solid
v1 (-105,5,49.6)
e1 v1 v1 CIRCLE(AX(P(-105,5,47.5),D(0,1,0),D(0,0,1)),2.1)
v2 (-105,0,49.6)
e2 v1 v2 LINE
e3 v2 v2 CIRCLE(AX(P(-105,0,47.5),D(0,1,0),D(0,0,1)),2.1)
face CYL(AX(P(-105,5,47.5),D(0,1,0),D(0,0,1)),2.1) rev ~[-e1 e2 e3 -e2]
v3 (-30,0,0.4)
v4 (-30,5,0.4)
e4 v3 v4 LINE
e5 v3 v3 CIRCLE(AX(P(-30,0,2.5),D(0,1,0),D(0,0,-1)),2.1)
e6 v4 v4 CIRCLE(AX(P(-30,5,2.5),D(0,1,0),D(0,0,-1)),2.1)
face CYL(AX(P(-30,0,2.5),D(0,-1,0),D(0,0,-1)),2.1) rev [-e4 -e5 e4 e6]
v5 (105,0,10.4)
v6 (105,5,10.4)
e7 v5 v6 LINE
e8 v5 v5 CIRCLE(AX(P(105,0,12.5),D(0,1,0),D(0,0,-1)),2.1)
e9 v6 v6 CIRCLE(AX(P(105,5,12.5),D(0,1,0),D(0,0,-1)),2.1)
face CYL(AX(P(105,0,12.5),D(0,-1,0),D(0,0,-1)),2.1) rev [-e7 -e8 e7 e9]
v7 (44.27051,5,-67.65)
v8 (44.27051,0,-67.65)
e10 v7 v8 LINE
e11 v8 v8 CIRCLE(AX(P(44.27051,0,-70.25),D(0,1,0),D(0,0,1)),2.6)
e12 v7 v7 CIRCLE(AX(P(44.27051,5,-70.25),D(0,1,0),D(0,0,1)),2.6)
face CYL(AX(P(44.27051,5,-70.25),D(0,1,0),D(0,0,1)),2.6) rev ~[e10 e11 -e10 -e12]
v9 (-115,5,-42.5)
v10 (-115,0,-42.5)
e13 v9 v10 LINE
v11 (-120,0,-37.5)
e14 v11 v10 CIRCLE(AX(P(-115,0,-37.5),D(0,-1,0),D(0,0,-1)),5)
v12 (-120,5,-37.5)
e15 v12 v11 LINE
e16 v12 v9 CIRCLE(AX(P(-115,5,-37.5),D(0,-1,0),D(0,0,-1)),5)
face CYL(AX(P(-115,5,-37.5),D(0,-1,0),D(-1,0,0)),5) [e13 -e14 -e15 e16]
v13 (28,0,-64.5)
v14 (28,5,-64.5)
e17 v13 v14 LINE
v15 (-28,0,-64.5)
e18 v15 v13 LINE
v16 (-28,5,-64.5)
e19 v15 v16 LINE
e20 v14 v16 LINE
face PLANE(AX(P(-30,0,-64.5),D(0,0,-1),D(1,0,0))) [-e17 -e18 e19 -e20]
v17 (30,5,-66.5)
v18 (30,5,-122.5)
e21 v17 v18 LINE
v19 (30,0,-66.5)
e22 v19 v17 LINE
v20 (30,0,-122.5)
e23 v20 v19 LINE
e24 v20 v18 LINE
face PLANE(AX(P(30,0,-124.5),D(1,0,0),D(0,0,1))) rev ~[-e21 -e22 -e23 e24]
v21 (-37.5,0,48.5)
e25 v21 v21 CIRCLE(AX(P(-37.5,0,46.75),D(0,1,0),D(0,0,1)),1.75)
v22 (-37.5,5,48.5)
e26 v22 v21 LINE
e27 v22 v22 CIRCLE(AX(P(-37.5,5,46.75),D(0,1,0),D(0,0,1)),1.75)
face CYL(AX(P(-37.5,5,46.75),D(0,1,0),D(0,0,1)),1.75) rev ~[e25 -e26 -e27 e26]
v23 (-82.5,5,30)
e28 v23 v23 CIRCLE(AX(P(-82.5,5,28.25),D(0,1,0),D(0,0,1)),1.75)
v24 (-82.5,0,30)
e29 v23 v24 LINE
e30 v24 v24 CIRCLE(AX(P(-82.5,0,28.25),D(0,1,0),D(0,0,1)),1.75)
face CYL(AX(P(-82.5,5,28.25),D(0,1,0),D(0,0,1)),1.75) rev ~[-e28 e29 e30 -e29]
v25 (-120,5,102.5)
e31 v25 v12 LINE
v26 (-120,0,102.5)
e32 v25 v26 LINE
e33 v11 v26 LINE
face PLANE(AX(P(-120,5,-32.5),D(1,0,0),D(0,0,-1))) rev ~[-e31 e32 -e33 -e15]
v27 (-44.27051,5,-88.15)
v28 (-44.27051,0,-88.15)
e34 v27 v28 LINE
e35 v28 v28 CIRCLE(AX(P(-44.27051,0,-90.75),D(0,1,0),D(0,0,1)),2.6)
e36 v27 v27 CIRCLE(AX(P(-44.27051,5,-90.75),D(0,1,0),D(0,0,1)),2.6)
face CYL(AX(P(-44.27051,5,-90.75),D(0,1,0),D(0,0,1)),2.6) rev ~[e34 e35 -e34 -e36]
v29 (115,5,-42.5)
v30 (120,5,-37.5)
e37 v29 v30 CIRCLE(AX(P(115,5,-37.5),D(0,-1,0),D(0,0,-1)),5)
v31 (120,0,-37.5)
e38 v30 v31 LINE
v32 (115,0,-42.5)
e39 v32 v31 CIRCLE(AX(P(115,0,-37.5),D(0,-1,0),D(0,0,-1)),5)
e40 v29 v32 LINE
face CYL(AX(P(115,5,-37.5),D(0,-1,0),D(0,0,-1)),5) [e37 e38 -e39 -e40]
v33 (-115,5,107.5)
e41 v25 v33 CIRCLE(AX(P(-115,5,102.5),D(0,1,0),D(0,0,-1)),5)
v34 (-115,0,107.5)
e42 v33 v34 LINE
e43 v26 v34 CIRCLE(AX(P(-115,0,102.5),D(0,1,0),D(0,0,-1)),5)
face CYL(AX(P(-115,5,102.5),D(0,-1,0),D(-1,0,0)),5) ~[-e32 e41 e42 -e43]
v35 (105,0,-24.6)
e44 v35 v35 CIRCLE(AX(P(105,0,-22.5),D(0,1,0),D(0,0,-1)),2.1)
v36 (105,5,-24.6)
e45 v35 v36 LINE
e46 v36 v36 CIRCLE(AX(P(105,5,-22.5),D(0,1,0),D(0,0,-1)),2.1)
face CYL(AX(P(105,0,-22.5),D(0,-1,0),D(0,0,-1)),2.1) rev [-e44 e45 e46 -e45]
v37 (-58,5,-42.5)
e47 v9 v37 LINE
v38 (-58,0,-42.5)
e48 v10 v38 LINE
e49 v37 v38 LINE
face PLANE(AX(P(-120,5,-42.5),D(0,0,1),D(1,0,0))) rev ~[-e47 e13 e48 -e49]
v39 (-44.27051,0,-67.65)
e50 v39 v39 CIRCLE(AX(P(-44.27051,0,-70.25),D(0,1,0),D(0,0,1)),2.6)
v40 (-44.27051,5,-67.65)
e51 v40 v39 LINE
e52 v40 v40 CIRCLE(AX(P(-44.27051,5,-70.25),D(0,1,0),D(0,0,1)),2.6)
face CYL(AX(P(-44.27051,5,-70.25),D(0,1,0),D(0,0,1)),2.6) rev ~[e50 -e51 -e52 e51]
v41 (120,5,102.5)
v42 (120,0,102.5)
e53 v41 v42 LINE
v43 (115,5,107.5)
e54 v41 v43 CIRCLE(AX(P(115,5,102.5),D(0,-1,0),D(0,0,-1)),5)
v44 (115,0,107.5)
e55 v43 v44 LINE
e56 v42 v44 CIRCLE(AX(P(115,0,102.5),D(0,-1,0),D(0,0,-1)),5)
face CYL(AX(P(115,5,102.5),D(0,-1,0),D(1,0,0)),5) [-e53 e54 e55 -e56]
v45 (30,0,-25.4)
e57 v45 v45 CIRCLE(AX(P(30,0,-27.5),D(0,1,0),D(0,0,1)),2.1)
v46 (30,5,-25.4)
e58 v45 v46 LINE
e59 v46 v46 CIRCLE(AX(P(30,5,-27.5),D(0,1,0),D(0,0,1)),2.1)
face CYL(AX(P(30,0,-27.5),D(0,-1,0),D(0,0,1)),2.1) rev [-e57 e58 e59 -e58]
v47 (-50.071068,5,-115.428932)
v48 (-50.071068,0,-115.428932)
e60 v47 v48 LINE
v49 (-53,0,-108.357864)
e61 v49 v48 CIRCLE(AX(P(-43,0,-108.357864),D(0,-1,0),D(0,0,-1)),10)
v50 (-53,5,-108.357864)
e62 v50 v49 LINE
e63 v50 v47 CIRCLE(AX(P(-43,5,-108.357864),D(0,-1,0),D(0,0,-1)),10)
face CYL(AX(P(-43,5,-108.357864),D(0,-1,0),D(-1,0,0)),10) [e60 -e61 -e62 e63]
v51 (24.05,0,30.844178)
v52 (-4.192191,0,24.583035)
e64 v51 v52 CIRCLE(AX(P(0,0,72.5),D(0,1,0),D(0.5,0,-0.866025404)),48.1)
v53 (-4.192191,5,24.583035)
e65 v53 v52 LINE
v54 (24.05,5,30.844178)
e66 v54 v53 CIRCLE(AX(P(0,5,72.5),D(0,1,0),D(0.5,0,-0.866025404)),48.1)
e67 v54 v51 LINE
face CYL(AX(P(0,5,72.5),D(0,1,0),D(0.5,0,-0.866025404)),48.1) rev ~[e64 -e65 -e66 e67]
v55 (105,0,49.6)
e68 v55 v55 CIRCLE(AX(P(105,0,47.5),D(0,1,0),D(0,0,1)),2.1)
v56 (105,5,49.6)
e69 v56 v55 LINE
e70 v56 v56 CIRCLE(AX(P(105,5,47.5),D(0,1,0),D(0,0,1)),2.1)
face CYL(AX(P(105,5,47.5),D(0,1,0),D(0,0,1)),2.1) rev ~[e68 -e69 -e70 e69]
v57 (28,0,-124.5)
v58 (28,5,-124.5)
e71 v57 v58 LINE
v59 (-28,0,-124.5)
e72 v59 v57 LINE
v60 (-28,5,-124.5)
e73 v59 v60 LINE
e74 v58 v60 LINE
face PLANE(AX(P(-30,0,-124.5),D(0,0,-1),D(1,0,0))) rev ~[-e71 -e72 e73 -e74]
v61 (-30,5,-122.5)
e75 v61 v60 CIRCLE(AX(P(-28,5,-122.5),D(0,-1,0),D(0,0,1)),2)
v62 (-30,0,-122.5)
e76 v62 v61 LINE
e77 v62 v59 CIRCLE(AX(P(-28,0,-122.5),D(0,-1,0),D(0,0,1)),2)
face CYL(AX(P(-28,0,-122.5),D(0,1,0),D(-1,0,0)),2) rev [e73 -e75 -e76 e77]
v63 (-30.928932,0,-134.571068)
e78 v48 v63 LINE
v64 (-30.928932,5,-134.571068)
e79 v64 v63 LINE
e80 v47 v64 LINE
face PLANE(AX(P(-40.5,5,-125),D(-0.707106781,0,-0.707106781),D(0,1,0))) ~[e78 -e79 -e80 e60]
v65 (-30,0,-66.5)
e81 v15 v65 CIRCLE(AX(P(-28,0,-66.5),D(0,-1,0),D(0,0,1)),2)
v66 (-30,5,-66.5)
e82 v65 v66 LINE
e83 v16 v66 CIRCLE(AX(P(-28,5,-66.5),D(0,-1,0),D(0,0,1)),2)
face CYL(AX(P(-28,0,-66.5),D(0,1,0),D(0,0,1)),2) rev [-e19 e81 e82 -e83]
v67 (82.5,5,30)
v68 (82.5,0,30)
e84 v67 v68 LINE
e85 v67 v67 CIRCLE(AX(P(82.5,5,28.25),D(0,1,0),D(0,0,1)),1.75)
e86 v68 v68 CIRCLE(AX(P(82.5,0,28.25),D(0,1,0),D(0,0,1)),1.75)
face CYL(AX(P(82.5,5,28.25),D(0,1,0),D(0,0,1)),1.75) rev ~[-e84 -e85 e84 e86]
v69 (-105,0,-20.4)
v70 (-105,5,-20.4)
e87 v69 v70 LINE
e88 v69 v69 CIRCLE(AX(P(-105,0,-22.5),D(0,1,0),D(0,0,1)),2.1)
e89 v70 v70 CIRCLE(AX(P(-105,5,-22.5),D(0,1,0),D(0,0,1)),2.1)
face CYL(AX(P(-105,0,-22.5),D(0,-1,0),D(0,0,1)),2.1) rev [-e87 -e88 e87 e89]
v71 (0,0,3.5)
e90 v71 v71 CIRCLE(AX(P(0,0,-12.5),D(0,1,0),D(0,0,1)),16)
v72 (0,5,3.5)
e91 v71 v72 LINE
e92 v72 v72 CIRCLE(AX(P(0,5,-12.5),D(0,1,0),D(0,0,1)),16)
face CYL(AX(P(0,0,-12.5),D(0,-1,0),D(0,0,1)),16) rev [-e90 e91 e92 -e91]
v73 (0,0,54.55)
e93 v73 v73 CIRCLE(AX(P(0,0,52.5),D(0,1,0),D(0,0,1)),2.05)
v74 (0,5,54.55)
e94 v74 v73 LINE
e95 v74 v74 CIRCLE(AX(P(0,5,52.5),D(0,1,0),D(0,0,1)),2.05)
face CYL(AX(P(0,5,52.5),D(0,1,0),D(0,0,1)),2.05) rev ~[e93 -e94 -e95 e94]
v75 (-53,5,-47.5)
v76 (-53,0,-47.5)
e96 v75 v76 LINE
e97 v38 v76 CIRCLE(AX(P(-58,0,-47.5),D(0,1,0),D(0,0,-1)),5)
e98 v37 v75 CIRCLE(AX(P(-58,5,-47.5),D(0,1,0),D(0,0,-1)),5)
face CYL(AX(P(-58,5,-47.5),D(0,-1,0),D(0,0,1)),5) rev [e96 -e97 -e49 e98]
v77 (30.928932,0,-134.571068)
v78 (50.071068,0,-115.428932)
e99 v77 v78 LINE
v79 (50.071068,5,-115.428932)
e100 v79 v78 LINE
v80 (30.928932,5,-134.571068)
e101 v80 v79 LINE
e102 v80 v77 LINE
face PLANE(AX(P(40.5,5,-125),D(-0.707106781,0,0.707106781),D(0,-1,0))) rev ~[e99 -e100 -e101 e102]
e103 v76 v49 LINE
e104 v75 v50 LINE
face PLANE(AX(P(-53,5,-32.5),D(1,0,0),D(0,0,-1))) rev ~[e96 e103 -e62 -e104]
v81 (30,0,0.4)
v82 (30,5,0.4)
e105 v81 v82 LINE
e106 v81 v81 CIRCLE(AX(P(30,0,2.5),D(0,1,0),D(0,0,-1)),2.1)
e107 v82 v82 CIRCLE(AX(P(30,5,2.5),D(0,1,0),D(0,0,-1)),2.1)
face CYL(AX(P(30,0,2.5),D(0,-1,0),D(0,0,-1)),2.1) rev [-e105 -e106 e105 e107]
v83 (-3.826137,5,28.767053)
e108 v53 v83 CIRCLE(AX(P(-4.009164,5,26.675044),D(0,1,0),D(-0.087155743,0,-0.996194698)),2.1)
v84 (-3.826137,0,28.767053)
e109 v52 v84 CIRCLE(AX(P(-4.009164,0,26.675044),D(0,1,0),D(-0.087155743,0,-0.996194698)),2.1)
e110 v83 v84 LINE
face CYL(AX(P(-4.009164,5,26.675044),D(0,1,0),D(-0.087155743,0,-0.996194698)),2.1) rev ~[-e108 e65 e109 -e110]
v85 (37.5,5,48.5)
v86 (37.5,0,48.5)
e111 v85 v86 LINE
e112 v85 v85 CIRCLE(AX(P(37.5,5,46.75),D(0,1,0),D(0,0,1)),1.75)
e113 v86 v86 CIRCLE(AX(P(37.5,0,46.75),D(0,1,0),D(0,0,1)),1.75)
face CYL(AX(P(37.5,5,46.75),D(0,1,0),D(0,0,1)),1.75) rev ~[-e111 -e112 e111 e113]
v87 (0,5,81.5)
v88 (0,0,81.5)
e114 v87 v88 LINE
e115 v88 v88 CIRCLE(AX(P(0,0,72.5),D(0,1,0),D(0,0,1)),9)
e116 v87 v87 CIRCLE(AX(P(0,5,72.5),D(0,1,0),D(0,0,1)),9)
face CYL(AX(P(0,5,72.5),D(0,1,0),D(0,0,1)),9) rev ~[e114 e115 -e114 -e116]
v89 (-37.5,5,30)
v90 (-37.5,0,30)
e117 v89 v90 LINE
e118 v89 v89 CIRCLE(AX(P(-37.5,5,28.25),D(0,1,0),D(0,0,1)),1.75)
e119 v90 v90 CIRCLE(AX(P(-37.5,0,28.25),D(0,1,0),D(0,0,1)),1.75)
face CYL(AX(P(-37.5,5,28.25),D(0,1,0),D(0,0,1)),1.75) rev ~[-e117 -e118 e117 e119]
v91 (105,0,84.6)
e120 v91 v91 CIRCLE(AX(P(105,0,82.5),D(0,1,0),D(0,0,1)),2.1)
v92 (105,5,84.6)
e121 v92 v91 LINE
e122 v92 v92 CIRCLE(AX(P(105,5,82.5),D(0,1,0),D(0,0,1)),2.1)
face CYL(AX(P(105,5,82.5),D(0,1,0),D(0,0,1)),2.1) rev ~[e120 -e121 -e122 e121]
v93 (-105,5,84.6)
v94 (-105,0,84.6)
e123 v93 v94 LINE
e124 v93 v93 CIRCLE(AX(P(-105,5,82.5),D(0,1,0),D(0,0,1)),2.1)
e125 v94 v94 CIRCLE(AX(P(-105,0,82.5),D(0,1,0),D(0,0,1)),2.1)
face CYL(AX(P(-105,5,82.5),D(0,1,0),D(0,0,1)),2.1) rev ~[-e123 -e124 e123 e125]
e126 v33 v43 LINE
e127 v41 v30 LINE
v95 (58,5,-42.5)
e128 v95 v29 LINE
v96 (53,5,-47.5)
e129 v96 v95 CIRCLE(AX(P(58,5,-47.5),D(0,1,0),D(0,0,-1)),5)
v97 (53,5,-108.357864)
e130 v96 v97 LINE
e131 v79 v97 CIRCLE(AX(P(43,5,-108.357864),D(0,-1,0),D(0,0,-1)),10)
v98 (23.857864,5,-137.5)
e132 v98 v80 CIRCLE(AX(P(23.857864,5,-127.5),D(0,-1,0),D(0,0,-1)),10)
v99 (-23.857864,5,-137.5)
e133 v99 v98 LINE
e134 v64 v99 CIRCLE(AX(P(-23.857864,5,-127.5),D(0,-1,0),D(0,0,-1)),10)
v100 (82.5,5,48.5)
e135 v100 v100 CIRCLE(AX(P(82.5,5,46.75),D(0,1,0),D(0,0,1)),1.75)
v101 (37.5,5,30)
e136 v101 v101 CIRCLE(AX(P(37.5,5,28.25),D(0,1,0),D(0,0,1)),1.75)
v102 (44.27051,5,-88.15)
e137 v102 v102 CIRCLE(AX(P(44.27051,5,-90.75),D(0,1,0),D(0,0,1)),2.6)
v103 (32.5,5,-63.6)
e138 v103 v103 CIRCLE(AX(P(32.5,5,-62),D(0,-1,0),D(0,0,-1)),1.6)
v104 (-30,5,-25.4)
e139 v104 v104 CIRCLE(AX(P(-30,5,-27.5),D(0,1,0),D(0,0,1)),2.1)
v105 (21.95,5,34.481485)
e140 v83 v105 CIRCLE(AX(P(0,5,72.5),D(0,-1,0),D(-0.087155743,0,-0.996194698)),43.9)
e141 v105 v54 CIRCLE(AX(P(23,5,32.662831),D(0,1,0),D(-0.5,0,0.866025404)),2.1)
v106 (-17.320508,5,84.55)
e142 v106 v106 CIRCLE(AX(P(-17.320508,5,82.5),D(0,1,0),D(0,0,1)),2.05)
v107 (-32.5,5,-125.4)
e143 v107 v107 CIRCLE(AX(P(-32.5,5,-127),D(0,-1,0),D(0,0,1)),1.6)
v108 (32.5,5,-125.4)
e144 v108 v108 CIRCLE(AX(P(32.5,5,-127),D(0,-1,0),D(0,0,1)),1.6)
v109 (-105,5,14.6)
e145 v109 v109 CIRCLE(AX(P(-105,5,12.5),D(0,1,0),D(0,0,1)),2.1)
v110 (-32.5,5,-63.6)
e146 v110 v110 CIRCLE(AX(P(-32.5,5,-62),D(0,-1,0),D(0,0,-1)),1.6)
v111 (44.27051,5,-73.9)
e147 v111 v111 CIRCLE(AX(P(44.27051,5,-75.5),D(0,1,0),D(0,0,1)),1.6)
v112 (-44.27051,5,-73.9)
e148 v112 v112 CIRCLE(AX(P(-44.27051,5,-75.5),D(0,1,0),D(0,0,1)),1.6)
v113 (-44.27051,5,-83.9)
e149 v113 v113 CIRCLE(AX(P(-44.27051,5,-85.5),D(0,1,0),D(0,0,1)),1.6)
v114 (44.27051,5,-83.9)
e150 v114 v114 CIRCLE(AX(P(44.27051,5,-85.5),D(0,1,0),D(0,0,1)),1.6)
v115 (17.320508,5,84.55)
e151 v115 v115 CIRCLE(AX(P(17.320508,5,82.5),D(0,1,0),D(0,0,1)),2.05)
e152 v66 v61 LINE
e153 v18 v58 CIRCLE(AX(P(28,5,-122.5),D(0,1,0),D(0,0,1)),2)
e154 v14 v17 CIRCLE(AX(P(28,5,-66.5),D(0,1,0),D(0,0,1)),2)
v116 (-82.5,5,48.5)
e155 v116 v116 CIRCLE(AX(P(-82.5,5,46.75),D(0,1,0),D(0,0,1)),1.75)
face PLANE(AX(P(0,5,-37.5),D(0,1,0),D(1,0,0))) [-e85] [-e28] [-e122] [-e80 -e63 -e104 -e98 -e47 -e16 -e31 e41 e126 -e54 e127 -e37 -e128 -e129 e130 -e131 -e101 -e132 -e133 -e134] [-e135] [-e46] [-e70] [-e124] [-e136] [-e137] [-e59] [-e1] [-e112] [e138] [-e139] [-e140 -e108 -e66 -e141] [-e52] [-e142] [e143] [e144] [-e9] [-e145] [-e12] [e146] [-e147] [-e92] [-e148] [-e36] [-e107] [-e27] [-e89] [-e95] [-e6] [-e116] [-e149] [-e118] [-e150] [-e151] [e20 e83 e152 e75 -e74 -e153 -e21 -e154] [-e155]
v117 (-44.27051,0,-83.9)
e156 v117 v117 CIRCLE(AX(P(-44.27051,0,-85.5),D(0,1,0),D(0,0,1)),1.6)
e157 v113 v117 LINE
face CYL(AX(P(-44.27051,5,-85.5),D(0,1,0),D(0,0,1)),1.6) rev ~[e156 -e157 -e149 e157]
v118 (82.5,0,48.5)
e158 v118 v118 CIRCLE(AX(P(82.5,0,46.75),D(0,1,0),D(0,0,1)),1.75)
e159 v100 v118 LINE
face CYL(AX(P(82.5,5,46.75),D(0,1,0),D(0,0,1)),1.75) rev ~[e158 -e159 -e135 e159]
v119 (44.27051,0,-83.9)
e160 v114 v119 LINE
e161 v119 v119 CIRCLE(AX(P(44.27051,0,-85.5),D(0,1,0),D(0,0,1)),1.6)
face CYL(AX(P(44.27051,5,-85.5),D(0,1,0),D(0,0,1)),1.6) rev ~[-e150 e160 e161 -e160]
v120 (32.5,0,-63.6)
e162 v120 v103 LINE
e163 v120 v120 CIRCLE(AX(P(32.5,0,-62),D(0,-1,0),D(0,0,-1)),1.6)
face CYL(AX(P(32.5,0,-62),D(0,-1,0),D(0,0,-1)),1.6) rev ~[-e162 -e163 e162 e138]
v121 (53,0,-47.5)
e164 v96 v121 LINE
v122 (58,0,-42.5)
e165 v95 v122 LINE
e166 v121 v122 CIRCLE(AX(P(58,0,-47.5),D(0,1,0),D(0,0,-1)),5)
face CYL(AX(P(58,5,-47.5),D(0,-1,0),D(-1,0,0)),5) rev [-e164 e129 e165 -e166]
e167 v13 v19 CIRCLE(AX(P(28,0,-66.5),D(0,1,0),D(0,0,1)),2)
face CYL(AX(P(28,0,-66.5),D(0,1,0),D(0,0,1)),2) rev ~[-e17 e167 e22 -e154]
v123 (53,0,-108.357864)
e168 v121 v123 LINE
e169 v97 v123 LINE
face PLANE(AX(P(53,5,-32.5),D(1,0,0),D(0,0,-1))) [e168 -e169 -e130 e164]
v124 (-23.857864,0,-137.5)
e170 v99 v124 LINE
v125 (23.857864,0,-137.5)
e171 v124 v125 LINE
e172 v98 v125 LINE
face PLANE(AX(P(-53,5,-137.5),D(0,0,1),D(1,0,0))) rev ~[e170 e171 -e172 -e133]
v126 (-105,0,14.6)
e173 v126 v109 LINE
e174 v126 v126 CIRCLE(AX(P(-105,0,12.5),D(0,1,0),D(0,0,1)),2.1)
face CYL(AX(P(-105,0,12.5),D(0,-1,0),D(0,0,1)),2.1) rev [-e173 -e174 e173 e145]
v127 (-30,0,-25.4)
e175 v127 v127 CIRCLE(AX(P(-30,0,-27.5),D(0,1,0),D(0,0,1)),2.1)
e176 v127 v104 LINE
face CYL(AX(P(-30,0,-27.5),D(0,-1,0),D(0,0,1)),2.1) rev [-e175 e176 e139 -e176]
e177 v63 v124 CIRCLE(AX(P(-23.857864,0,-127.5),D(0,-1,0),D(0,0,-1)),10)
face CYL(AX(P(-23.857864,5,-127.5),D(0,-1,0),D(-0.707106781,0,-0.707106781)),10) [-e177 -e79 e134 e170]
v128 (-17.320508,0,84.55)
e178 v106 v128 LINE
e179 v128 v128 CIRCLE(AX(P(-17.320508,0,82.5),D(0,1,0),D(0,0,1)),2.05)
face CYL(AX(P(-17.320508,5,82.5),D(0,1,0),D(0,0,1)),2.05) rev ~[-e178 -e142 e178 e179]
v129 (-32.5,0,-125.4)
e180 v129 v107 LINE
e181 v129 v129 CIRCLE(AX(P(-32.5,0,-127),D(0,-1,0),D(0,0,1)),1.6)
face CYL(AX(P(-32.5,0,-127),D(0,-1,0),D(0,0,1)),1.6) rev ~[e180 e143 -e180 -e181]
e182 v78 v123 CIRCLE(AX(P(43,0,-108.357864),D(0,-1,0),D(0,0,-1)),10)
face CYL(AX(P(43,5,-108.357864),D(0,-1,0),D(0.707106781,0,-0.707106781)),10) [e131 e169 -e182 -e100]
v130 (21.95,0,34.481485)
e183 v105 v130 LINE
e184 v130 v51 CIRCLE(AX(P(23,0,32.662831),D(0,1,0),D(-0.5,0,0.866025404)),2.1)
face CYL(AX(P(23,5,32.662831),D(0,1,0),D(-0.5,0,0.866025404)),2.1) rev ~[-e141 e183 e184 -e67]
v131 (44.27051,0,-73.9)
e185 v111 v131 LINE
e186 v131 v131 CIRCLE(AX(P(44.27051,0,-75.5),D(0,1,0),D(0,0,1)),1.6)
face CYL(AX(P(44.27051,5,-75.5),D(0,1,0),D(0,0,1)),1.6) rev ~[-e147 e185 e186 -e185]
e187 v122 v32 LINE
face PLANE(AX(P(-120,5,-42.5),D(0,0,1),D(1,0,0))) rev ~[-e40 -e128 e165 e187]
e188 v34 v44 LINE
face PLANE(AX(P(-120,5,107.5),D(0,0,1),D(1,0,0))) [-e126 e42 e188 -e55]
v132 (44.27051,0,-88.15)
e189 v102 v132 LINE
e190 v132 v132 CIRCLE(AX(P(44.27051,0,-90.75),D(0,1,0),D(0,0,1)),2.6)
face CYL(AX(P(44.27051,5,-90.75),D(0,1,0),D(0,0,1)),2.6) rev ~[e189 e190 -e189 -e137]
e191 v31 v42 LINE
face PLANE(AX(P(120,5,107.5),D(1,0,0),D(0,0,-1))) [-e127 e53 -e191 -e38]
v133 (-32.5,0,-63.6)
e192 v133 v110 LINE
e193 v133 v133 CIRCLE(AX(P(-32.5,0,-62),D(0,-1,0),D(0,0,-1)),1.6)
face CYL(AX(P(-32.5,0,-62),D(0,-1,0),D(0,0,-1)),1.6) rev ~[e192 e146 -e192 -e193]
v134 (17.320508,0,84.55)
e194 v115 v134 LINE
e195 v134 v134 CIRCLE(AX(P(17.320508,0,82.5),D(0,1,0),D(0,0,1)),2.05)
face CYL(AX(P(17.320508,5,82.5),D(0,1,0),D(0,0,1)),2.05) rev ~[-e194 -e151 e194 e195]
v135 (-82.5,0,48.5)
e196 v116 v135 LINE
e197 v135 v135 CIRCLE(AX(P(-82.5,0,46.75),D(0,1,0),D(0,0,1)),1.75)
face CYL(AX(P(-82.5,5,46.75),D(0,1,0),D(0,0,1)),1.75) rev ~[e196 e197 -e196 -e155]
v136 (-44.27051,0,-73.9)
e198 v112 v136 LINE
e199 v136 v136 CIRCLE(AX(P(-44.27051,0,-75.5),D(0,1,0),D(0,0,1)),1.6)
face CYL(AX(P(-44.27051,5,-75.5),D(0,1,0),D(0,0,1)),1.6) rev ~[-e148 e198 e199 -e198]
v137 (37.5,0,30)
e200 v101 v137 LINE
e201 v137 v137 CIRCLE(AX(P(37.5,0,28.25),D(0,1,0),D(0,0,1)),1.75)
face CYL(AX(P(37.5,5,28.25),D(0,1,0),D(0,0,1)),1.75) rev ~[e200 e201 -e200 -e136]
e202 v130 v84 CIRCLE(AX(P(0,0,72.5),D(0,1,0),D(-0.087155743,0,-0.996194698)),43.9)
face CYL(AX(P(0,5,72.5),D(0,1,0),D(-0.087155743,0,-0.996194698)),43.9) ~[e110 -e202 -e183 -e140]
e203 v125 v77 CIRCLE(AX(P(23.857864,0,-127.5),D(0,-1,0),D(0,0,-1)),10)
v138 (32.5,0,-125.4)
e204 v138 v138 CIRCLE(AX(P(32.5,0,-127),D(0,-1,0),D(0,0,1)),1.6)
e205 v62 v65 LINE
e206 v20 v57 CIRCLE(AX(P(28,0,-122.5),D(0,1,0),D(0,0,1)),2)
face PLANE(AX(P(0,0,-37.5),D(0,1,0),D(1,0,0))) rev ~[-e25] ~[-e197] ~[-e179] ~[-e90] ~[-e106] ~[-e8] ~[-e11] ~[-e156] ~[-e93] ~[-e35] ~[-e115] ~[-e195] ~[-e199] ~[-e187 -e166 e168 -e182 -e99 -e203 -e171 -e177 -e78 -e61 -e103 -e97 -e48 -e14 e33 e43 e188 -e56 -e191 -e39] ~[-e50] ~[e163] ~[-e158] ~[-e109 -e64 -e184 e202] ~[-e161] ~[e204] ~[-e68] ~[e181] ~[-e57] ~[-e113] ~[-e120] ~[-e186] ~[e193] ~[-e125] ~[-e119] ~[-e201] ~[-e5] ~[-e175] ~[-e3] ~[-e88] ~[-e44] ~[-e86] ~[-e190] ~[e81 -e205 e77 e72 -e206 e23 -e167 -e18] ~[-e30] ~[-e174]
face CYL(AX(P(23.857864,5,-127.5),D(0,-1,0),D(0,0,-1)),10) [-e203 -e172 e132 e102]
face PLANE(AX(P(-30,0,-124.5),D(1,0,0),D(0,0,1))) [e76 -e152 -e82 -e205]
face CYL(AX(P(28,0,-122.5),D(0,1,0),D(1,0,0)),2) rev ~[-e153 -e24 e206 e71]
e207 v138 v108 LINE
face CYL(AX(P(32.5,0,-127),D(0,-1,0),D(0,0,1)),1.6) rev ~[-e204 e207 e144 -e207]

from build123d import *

# Parameters (mm, degrees)
SKETCH_1_W          = 240
SKETCH_1_H          = 65
SKETCH_1_R          = 2.1
SKETCH_1_R_2        = 16
EXTRUDE_1_DEPTH     = 5
SKETCH_2_W          = 240
SKETCH_2_H          = 75
SKETCH_2_R          = 2.05
SKETCH_2_R_2        = 9
SKETCH_2_R_3        = 2.1
SKETCH_2_W_2        = 106
SKETCH_2_H_2        = 105
SKETCH_2_R_4        = 2.6
SKETCH_2_R_5        = 1.6
EXTRUDE_2_DEPTH     = 5
CUT_EXTRUDE_1_DEPTH = 10
SKETCH_4_W          = 240
SKETCH_4_H          = 10
EXTRUDE_3_DEPTH     = 5
FILLET_5_R          = 5
SKETCH_6_R          = 1.6
SKETCH_6_W          = 60
SKETCH_6_H          = 60
CUT_EXTRUDE_2_DEPTH = 10
FILLET_6_R          = 5
CHAMFER_1_SIZE      = 25
SKETCH_7_R          = 1.75
CUT_EXTRUDE_3_DEPTH = 10
FILLET_7_R          = 10
FILLET_8_R          = 2


with BuildPart() as part:
    # 草图1 → 凸台-拉伸1 (new body)
    with BuildSketch(Plane(origin=(0, 0, 0), x_dir=(1, 0, 0), z_dir=(0, 1, 0))):
        Rectangle(SKETCH_1_W, SKETCH_1_H)
        with Locations(Location((-105, 22.5, 0), (0, 0, 270))):
            Circle(SKETCH_1_R, mode=Mode.SUBTRACT)
        with Locations(Location((-105, -12.5, 0), (0, 0, 270))):
            Circle(SKETCH_1_R, mode=Mode.SUBTRACT)
        with Locations(Location((105, -12.5, 0), (0, 0, 90))):
            Circle(SKETCH_1_R, mode=Mode.SUBTRACT)
        with Locations(Location((105, 22.5, 0), (0, 0, 90))):
            Circle(SKETCH_1_R, mode=Mode.SUBTRACT)
        with Locations(Location((0, 12.5, 0), (0, 0, 270))):
            Circle(SKETCH_1_R_2, mode=Mode.SUBTRACT)
        with Locations(Location((-30, 27.5, 0), (0, 0, 270))):
            Circle(SKETCH_1_R, mode=Mode.SUBTRACT)
        with Locations(Location((30, 27.5, 0), (0, 0, 270))):
            Circle(SKETCH_1_R, mode=Mode.SUBTRACT)
        with Locations(Location((30, -2.5, 0), (0, 0, 90))):
            Circle(SKETCH_1_R, mode=Mode.SUBTRACT)
        with Locations(Location((-30, -2.5, 0), (0, 0, 90))):
            Circle(SKETCH_1_R, mode=Mode.SUBTRACT)
    extrude(amount=EXTRUDE_1_DEPTH)

    # 草图2 → 凸台-拉伸2 (add)
    # profile 1 of 2: a face of its own
    with BuildSketch(Plane(origin=(0, 5, 0), x_dir=(1, 0, 0), z_dir=(0, 1, 0))):
        with Locations((0, -70)):
            Rectangle(SKETCH_2_W, SKETCH_2_H)
        with Locations(Location((17.320508076, -82.5, 0), (0, 0, 270))):
            Circle(SKETCH_2_R, mode=Mode.SUBTRACT)
        with Locations(Location((0, -72.5, 0), (0, 0, 270))):
            Circle(SKETCH_2_R_2, mode=Mode.SUBTRACT)
        with Locations(Location((-17.320508076, -82.5, 0), (0, 0, 270))):
            Circle(SKETCH_2_R, mode=Mode.SUBTRACT)
        with Locations(Location((0, -52.5, 0), (0, 0, 270))):
            Circle(SKETCH_2_R, mode=Mode.SUBTRACT)
        with Locations(Location((-105, -47.5, 0), (0, 0, 270))):
            Circle(SKETCH_2_R_3, mode=Mode.SUBTRACT)
        with Locations(Location((-105, -82.5, 0), (0, 0, 270))):
            Circle(SKETCH_2_R_3, mode=Mode.SUBTRACT)
        with Locations(Location((105, -47.5, 0), (0, 0, 270))):
            Circle(SKETCH_2_R_3, mode=Mode.SUBTRACT)
        with Locations(Location((105, -82.5, 0), (0, 0, 270))):
            Circle(SKETCH_2_R_3, mode=Mode.SUBTRACT)
    # profile 2 of 2: a face of its own
    with BuildSketch(Plane(origin=(0, 5, 0), x_dir=(1, 0, 0), z_dir=(0, 1, 0))):
        with Locations((0, 85)):
            Rectangle(SKETCH_2_W_2, SKETCH_2_H_2)
        with Locations(Location((-44.270509831, 70.25, 0), (0, 0, 270))):
            Circle(SKETCH_2_R_4, mode=Mode.SUBTRACT)
        with Locations(Location((-44.270509831, 75.5, 0), (0, 0, 270))):
            Circle(SKETCH_2_R_5, mode=Mode.SUBTRACT)
        with Locations(Location((-44.270509831, 85.5, 0), (0, 0, 270))):
            Circle(SKETCH_2_R_5, mode=Mode.SUBTRACT)
        with Locations(Location((-44.270509831, 90.75, 0), (0, 0, 270))):
            Circle(SKETCH_2_R_4, mode=Mode.SUBTRACT)
        with Locations(Location((44.270509831, 70.25, 0), (0, 0, 270))):
            Circle(SKETCH_2_R_4, mode=Mode.SUBTRACT)
        with Locations(Location((44.270509831, 75.5, 0), (0, 0, 270))):
            Circle(SKETCH_2_R_5, mode=Mode.SUBTRACT)
        with Locations(Location((44.270509831, 85.5, 0), (0, 0, 270))):
            Circle(SKETCH_2_R_5, mode=Mode.SUBTRACT)
        with Locations(Location((44.270509831, 90.75, 0), (0, 0, 270))):
            Circle(SKETCH_2_R_4, mode=Mode.SUBTRACT)
    extrude(amount=-EXTRUDE_2_DEPTH)

    # 草图3 → 切除-拉伸1 (cut)
    with BuildSketch(Plane(origin=(0, 5, 0), x_dir=(1, 0, 0), z_dir=(0, 1, 0))):
        with BuildLine():
            ThreePointArc((24.05, -30.844178078), (10.41074543, -25.540162058), (-4.192191226, -24.583035022))
            ThreePointArc((-4.192191226, -24.583035022), (-6.101173032, -26.858070948), (-3.826137107, -28.767052754))
            ThreePointArc((-3.826137107, -28.767052754), (9.501699052, -29.640605287), (21.95, -34.481484774))
            ThreePointArc((21.95, -34.481484774), (24.818653348, -33.712831426), (24.05, -30.844178078))
        make_face()
    extrude(amount=-CUT_EXTRUDE_1_DEPTH, mode=Mode.SUBTRACT)

    # 草图4 → 凸台-拉伸3 (add)
    with BuildSketch(Plane(origin=(0, 5, 0), x_dir=(1, 0, 0), z_dir=(0, 1, 0))):
        with Locations((0, 37.5)):
            Rectangle(SKETCH_4_W, SKETCH_4_H)
    extrude(amount=-EXTRUDE_3_DEPTH)

    # 圆角5
    fillet_5_edges = [part.edges().sort_by_distance(p)[0] for p in [
        (-120, 2.5, -42.5),
        (120, 2.5, -42.5),
        (-120, 2.5, 107.5),
        (120, 2.5, 107.5),
    ]]
    fillet(fillet_5_edges, radius=FILLET_5_R)

    # 草图6 → 切除-拉伸2 (cut)
    with BuildSketch(Plane.XZ):
        with Locations(Location((-32.5, -62, 0), (0, 0, 270))):
            Circle(SKETCH_6_R)
        with Locations(Location((32.5, -62, 0), (0, 0, 270))):
            Circle(SKETCH_6_R)
        with Locations(Location((32.5, -127, 0), (0, 0, 90))):
            Circle(SKETCH_6_R)
        with Locations(Location((-32.5, -127, 0), (0, 0, 90))):
            Circle(SKETCH_6_R)
        with Locations((0, -94.5)):
            Rectangle(SKETCH_6_W, SKETCH_6_H)
    extrude(amount=-CUT_EXTRUDE_2_DEPTH, mode=Mode.SUBTRACT)

    # 圆角6
    fillet_6_edges = [part.edges().sort_by_distance(p)[0] for p in [
        (-53, 2.5, -42.5),
        (53, 2.5, -42.5),
    ]]
    fillet(fillet_6_edges, radius=FILLET_6_R)

    # 倒角1
    chamfer_1_edges = [part.edges().sort_by_distance(p)[0] for p in [
        (53, 2.5, -137.5),
        (-53, 2.5, -137.5),
    ]]
    chamfer(chamfer_1_edges, length=CHAMFER_1_SIZE)

    # 草图7 → 切除-拉伸3 (cut)
    with BuildSketch(Plane(origin=(0, 5, 0), x_dir=(1, 0, 0), z_dir=(0, 1, 0))):
        with Locations(Location((37.5, -28.25, 0), (0, 0, 270))):
            Circle(SKETCH_7_R)
        with Locations(Location((37.5, -46.75, 0), (0, 0, 270))):
            Circle(SKETCH_7_R)
        with Locations(Location((82.5, -28.25, 0), (0, 0, 270))):
            Circle(SKETCH_7_R)
        with Locations(Location((82.5, -46.75, 0), (0, 0, 270))):
            Circle(SKETCH_7_R)
        with Locations(Location((-82.5, -46.75, 0), (0, 0, 270))):
            Circle(SKETCH_7_R)
        with Locations(Location((-82.5, -28.25, 0), (0, 0, 270))):
            Circle(SKETCH_7_R)
        with Locations(Location((-37.5, -46.75, 0), (0, 0, 270))):
            Circle(SKETCH_7_R)
        with Locations(Location((-37.5, -28.25, 0), (0, 0, 270))):
            Circle(SKETCH_7_R)
    extrude(amount=-CUT_EXTRUDE_3_DEPTH, mode=Mode.SUBTRACT)

    # 圆角7
    fillet_7_edges = [part.edges().sort_by_distance(p)[0] for p in [
        (53, 2.5, -112.5),
        (-28, 2.5, -137.5),
        (28, 2.5, -137.5),
        (-53, 2.5, -112.5),
    ]]
    fillet(fillet_7_edges, radius=FILLET_7_R)

    # 圆角8
    fillet_8_edges = [part.edges().sort_by_distance(p)[0] for p in [
        (30, 2.5, -64.5),
        (30, 2.5, -124.5),
        (-30, 2.5, -124.5),
        (-30, 2.5, -64.5),
    ]]
    fillet(fillet_8_edges, radius=FILLET_8_R)


solid = part.part
